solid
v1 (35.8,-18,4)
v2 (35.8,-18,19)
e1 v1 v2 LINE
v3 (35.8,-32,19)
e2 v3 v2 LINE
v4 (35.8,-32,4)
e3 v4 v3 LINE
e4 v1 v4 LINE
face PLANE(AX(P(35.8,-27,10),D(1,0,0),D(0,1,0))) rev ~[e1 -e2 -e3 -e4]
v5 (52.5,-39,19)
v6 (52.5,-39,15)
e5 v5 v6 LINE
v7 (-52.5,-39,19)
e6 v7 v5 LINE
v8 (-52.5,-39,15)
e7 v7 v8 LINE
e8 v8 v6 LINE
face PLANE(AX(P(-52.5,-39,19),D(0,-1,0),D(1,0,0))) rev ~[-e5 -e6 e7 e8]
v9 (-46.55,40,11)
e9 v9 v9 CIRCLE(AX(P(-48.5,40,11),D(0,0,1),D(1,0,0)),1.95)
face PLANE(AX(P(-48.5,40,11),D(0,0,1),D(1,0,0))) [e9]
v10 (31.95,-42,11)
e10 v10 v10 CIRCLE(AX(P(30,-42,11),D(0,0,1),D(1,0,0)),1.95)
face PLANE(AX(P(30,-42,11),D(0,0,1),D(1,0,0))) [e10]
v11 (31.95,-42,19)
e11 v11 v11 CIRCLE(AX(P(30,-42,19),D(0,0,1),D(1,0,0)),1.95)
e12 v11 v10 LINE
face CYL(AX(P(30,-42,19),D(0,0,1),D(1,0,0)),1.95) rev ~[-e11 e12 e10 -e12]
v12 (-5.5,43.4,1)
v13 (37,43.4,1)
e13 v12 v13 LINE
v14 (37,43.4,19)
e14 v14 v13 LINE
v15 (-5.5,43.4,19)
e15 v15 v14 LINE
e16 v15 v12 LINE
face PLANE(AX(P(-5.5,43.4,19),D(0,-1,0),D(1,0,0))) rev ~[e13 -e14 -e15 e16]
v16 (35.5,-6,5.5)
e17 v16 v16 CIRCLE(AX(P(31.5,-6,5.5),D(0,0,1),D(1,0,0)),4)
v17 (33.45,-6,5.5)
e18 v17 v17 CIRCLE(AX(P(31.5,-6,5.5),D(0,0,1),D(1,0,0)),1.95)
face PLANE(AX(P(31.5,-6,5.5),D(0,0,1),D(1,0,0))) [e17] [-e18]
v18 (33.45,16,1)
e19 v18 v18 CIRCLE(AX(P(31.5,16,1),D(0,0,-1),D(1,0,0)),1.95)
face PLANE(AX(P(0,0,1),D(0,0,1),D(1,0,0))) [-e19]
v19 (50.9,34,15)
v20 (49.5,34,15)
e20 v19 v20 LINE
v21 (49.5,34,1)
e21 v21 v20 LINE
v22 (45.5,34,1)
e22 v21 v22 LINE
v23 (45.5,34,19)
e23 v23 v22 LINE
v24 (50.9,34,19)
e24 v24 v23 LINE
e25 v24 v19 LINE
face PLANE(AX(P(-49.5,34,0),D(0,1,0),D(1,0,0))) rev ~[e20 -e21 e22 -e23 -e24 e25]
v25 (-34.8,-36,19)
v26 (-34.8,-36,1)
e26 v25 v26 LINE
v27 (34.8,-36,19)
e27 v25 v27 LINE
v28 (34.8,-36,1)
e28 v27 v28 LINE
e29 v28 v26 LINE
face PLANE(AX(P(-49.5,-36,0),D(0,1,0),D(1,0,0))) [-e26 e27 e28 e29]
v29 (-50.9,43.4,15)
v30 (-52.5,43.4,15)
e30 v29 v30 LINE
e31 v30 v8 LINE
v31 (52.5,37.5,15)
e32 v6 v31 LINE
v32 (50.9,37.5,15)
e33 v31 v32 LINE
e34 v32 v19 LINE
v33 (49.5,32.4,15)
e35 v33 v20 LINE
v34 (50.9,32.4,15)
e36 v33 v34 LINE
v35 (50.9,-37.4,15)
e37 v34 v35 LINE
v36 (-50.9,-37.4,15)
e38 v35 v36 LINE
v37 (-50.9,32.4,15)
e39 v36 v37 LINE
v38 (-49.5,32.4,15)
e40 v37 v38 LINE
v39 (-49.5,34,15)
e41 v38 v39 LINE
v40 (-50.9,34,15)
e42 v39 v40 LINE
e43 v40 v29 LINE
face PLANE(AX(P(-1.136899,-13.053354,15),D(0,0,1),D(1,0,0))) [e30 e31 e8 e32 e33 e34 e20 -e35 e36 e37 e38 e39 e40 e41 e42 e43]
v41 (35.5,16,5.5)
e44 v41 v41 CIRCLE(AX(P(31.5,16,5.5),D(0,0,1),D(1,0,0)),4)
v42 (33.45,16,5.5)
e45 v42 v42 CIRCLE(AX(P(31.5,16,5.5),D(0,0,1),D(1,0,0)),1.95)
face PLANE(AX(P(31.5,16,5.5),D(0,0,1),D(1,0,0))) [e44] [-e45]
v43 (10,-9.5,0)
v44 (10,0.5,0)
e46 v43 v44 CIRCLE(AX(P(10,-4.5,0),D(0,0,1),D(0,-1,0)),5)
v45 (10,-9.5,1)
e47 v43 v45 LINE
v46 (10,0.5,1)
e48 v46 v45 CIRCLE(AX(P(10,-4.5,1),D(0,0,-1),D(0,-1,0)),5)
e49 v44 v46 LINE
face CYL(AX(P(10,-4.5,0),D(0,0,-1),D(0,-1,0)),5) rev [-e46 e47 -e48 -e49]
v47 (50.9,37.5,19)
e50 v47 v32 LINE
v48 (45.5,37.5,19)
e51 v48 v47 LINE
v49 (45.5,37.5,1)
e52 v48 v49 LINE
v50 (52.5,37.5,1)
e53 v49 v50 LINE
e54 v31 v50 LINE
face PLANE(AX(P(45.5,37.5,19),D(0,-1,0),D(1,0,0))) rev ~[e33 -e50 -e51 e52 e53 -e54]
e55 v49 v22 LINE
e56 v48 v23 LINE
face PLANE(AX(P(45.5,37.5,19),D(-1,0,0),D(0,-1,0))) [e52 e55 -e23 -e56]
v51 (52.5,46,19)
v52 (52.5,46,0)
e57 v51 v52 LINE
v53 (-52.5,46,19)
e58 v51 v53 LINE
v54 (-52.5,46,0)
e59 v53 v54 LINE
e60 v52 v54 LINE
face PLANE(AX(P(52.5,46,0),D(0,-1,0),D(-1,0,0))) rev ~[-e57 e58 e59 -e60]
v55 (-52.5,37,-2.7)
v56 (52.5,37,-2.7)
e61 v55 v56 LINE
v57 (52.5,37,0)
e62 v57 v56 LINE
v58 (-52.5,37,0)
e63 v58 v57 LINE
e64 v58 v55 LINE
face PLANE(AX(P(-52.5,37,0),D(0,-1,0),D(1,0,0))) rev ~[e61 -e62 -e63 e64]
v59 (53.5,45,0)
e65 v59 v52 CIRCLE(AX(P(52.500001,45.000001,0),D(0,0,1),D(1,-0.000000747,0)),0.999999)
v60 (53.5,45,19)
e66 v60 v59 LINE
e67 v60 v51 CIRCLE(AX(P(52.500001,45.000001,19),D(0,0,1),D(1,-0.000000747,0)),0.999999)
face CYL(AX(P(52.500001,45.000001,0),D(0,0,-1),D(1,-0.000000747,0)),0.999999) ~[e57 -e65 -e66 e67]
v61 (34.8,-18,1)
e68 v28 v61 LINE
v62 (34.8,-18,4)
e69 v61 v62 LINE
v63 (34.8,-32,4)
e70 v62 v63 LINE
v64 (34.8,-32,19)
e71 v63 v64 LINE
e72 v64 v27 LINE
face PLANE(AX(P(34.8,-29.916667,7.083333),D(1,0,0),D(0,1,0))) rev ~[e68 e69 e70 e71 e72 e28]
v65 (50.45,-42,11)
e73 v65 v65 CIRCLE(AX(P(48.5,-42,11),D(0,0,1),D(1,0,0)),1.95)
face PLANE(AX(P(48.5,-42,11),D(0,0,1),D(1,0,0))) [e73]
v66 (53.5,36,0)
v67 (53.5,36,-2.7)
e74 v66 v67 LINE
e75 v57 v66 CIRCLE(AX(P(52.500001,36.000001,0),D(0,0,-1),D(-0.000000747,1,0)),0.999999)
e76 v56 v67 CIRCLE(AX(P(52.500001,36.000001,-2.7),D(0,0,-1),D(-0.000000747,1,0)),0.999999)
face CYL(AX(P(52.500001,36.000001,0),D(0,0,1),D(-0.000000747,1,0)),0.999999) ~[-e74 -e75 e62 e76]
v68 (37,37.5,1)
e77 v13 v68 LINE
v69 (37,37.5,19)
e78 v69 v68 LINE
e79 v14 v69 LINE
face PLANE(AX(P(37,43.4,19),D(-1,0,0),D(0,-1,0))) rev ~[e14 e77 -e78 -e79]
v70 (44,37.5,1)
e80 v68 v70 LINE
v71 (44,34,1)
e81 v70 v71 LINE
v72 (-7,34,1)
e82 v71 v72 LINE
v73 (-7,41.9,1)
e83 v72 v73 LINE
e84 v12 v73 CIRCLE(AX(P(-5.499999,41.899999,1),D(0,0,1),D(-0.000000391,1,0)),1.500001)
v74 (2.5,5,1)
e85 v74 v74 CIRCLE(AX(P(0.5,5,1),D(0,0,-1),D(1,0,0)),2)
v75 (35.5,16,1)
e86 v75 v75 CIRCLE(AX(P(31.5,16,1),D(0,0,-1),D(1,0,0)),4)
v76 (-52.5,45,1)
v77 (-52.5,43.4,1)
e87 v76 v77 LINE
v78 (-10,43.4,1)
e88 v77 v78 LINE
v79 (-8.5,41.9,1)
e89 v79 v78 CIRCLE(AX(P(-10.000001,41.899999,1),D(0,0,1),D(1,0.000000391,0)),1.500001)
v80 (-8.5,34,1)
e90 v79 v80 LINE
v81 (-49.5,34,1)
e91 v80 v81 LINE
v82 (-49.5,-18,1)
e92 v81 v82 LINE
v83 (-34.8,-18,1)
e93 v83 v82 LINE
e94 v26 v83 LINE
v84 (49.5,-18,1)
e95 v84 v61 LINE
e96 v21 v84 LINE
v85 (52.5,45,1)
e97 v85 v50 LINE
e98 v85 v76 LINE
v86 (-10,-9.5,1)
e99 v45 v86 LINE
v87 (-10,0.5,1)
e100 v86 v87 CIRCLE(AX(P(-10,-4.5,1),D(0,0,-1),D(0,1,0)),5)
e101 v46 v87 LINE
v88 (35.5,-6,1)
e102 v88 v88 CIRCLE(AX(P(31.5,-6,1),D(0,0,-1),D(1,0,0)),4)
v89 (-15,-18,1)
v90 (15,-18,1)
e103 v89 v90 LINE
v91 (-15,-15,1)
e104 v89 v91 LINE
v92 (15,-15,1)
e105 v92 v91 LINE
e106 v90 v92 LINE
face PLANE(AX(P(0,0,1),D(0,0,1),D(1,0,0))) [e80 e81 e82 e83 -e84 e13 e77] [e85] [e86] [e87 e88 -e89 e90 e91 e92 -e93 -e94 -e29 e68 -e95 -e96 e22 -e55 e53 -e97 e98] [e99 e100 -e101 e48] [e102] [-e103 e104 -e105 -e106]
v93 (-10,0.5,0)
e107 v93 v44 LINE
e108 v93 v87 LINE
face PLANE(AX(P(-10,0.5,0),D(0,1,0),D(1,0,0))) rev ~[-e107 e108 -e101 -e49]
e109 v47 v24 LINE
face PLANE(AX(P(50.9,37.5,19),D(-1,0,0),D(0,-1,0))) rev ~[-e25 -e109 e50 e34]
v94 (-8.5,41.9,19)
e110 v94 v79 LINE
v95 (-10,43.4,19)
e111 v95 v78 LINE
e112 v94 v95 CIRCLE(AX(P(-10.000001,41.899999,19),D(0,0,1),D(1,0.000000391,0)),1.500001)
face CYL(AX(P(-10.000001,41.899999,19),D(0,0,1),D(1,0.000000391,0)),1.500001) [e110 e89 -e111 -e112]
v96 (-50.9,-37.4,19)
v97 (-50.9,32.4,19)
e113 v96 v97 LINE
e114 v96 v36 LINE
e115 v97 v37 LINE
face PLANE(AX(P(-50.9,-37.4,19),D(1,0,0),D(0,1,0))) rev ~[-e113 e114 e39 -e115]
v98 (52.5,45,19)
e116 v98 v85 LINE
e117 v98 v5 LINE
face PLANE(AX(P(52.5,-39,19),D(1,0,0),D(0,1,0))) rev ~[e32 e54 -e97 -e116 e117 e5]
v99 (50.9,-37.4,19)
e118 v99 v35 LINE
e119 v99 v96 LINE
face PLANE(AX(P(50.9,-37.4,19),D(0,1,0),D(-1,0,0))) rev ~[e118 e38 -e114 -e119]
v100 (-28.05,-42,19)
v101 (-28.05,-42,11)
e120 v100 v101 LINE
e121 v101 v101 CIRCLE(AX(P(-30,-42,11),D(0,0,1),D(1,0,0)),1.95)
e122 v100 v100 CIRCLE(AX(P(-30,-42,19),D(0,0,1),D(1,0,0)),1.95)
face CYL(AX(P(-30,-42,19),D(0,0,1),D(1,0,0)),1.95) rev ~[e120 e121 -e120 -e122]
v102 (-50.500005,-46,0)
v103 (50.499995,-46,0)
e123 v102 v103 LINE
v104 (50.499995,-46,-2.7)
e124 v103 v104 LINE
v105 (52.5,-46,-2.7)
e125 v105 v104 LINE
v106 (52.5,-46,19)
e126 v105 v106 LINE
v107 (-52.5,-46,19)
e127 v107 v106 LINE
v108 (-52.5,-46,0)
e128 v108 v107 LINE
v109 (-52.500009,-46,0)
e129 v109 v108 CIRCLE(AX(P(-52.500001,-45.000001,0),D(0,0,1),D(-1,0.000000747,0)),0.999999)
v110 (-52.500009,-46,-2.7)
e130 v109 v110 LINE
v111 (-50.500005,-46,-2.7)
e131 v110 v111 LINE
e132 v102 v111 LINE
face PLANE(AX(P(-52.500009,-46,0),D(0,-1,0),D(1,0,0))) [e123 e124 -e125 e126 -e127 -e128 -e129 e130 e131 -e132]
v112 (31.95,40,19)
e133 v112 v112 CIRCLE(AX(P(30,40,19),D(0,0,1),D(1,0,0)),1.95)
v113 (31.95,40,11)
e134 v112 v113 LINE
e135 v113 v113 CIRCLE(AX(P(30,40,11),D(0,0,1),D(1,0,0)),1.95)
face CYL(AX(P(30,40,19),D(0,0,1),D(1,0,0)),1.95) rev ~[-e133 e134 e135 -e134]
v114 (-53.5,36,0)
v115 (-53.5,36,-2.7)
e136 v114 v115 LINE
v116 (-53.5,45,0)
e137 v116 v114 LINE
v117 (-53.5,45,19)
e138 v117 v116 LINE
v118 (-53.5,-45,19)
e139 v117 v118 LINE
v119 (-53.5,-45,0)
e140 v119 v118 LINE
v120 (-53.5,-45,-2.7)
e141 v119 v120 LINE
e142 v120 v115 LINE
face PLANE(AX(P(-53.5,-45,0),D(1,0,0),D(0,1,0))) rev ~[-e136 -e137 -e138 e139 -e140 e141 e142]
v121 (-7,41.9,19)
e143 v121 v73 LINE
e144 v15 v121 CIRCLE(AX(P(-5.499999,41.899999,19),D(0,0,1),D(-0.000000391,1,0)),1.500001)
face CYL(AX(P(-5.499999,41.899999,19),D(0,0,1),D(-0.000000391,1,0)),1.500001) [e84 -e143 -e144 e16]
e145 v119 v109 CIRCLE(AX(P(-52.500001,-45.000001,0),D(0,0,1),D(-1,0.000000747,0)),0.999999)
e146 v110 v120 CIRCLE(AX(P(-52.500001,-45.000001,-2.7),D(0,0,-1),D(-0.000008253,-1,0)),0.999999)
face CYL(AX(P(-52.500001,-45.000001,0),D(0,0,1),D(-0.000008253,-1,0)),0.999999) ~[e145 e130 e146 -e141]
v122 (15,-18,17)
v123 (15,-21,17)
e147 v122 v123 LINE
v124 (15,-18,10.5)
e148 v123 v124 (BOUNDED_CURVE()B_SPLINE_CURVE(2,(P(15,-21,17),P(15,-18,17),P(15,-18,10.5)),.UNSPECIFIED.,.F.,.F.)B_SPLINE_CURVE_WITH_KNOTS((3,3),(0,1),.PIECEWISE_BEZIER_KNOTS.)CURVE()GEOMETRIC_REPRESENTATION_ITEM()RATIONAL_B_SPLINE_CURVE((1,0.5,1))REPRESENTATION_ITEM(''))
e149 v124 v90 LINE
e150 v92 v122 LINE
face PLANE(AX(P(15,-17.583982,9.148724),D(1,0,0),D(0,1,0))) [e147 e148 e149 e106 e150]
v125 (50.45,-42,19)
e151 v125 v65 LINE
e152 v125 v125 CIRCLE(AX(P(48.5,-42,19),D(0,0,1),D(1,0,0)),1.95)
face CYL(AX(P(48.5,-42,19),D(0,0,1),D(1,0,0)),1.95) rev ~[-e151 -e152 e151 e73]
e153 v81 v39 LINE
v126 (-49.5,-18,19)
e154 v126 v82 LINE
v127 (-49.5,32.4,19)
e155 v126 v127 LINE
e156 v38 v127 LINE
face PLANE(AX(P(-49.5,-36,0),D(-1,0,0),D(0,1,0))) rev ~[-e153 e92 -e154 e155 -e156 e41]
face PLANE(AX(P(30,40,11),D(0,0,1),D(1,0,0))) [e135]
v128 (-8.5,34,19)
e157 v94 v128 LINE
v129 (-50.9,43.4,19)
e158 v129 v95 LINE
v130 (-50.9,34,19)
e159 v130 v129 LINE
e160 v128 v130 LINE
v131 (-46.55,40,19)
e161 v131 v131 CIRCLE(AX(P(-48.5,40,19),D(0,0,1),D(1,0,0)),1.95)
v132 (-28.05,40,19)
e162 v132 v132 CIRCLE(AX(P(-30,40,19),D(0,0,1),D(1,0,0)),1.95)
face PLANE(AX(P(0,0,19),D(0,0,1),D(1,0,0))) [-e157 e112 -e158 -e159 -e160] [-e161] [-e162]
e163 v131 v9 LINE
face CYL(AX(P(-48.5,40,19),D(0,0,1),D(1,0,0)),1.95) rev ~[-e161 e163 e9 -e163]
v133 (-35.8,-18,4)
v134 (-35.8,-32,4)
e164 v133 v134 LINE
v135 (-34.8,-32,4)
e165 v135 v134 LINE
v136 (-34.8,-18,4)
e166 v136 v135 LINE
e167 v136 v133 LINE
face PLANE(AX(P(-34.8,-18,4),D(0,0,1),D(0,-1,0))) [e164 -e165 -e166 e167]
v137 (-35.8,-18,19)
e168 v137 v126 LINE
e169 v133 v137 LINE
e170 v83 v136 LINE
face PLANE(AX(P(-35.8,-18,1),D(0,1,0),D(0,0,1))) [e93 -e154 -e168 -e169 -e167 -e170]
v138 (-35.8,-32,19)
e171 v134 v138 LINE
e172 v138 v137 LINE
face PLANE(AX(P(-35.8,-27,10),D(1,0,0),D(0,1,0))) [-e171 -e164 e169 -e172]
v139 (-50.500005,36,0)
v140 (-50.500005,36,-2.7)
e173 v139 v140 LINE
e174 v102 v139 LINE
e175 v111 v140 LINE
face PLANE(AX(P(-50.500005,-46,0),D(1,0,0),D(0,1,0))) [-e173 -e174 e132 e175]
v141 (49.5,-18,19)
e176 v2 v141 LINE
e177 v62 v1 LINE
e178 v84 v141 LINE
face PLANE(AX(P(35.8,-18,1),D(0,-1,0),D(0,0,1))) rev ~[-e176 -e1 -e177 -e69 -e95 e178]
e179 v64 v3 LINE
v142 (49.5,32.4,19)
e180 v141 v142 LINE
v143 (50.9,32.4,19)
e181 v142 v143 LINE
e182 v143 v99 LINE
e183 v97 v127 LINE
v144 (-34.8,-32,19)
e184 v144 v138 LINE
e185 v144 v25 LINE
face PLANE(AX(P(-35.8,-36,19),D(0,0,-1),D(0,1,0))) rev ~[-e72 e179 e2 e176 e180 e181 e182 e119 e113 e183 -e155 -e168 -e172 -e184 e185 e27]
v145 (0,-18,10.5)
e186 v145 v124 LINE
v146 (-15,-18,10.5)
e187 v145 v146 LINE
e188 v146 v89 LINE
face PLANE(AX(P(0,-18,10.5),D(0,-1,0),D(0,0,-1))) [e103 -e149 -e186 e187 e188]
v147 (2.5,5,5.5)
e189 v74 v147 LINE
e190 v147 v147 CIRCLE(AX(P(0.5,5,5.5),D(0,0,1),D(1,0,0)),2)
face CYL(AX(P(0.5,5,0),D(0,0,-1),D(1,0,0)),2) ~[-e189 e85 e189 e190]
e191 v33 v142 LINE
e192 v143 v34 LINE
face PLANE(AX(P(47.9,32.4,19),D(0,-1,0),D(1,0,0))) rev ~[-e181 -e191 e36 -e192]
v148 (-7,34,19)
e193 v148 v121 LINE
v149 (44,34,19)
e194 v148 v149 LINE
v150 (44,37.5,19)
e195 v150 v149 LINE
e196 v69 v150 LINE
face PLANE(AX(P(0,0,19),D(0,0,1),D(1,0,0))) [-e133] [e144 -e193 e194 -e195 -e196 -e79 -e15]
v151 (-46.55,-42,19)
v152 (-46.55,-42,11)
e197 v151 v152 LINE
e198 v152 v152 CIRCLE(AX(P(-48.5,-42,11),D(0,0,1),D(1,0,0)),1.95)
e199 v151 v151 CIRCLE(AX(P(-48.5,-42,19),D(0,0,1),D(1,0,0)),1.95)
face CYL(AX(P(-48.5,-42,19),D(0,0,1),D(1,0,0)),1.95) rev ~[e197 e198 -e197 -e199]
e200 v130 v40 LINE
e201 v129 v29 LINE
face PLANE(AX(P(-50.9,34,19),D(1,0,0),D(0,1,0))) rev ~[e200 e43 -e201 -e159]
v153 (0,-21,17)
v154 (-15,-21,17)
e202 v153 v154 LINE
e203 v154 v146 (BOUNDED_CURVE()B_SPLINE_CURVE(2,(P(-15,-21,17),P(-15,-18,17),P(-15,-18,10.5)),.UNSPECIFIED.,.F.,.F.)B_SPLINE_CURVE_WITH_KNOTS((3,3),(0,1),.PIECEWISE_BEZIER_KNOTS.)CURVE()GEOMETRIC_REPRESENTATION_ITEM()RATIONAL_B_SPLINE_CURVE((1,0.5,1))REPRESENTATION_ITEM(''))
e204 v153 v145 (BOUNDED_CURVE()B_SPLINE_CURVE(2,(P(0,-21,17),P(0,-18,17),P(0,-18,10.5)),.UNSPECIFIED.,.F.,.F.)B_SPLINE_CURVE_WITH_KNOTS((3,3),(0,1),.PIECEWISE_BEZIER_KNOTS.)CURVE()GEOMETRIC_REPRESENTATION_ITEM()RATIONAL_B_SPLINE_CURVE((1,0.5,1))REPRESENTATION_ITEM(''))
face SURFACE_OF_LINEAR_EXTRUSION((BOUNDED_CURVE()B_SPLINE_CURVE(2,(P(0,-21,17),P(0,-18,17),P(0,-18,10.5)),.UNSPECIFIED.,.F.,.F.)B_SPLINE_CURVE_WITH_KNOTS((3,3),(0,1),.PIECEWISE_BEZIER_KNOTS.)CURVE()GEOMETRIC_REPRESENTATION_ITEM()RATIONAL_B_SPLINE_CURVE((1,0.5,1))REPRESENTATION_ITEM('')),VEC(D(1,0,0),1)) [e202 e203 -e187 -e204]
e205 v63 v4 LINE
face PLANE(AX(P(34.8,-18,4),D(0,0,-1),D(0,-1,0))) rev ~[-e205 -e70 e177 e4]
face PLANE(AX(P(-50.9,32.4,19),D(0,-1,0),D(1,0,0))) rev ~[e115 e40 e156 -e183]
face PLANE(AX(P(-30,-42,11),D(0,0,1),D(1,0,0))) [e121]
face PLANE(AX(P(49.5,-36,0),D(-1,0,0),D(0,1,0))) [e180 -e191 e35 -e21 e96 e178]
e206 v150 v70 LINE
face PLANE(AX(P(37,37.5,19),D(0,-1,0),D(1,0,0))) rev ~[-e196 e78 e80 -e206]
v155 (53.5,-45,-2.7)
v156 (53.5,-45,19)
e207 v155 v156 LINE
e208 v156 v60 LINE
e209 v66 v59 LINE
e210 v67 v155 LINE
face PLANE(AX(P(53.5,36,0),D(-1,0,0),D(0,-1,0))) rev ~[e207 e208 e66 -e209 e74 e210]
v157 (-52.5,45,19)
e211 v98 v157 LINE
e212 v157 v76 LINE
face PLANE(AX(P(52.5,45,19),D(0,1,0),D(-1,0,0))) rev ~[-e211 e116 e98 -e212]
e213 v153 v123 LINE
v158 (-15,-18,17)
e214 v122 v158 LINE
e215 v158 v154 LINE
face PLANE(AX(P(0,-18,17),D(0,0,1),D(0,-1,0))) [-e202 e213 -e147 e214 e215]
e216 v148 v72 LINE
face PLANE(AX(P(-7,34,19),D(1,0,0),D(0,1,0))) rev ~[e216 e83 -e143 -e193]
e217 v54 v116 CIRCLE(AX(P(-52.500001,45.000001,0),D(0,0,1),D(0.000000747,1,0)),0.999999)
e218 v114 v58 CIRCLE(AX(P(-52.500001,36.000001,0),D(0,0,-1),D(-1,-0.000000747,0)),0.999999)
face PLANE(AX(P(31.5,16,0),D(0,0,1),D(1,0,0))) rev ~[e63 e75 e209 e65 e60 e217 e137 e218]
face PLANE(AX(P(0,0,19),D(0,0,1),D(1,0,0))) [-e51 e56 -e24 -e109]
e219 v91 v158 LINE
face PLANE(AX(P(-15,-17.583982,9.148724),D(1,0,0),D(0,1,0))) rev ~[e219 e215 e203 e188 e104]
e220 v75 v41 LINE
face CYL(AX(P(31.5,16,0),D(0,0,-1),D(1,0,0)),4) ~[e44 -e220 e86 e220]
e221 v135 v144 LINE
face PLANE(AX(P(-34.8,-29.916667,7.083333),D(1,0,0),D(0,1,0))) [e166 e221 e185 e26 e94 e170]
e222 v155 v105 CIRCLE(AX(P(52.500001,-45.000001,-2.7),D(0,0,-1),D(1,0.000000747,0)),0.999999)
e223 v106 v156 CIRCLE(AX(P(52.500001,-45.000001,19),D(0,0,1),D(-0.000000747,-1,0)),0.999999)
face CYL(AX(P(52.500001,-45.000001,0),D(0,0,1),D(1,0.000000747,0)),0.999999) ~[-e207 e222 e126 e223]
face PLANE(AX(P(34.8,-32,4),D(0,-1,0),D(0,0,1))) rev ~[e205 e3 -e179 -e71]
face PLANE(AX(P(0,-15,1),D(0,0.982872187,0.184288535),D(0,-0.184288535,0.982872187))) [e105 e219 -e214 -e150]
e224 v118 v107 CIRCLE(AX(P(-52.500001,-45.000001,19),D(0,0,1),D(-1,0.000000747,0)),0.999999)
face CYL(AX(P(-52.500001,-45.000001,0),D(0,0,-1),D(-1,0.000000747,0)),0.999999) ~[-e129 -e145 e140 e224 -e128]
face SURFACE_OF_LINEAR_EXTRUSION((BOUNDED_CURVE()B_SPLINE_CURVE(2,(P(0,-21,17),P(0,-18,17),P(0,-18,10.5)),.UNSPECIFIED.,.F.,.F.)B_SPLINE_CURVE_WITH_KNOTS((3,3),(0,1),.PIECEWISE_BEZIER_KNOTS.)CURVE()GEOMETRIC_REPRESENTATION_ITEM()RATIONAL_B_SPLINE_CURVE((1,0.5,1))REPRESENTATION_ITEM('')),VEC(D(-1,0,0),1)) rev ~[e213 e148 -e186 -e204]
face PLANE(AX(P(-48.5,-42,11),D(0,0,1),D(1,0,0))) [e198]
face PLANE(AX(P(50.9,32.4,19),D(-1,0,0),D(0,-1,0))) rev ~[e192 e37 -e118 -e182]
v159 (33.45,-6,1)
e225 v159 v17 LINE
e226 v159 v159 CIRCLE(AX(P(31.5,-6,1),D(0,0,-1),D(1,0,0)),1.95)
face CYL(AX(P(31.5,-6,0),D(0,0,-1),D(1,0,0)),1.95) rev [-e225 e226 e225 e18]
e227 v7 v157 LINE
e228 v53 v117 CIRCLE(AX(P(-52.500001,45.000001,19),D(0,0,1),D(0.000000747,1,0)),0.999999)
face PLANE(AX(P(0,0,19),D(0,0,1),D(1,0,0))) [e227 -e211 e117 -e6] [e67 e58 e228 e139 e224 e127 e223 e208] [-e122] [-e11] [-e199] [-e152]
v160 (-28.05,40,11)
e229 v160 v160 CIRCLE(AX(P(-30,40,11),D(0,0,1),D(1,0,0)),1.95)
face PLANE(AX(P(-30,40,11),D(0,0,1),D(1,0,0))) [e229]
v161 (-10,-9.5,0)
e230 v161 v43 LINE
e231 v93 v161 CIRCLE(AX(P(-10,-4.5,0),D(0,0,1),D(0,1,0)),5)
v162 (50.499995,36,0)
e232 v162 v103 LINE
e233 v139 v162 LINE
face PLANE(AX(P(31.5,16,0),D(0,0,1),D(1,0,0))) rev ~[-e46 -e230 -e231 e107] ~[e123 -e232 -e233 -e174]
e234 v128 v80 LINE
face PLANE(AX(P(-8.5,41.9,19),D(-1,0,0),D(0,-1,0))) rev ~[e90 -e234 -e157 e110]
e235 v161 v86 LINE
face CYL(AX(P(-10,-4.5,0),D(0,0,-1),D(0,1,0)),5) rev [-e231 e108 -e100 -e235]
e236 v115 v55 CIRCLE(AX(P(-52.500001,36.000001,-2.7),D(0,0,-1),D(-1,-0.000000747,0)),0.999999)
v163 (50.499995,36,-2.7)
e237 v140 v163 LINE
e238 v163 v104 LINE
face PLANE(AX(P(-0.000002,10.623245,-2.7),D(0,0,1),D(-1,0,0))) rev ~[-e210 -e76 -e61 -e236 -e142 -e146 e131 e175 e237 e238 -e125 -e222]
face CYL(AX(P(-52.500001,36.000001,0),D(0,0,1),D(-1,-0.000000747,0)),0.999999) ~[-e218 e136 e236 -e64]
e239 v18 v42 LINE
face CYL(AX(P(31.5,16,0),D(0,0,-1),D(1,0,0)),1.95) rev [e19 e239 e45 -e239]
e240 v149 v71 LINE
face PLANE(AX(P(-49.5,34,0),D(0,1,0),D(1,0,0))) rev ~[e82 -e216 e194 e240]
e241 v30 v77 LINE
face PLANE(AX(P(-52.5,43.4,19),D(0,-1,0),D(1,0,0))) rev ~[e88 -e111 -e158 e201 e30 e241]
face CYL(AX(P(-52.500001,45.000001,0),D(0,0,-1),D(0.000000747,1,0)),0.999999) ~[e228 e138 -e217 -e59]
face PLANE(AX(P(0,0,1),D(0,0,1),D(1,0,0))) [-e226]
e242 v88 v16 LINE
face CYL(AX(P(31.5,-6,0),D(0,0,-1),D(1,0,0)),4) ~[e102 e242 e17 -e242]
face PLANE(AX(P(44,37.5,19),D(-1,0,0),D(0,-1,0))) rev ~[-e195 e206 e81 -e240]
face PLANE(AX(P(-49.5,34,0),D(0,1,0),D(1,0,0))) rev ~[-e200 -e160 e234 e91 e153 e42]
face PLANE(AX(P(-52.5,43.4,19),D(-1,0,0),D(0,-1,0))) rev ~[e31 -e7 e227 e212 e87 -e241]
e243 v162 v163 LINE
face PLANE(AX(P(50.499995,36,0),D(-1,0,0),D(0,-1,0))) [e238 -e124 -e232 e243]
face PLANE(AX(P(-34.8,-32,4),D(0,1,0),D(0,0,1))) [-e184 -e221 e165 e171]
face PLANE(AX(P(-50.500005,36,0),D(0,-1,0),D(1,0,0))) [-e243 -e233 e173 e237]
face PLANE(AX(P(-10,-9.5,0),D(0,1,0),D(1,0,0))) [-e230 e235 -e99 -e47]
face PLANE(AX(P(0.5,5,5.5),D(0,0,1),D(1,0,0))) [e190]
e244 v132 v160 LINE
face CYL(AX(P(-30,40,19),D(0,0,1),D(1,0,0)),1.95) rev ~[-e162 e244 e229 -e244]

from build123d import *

# Parameters (mm, degrees)
PAD011_DEPTH      = 1
SKETCH020_W       = 99
SKETCH020_H       = 70
PAD012_DEPTH      = 19
POCKET008_DEPTH   = 18
SKETCH023_R       = 4
SKETCH023_R_2     = 1.95
SKETCH023_R_3     = 2
PAD013_DEPTH      = 5.5
SKETCH024_R       = 1.95
POCKET010_DEPTH   = 8
PAD017_DEPTH      = 2.7
POCKET013_DEPTH   = 19
POCKET020_DEPTH   = 4
PAD033_START      = 34.8
PAD033_DEPTH      = 1
PAD034_START      = -34.8
PAD034_DEPTH      = 1
PAD035_START      = -35.8
SKETCH060_W       = 18
SKETCH060_H       = 18
PAD035_DEPTH      = 14
PAD036_START      = 35.8
PAD036_DEPTH      = 14
PAD037_DEPTH      = 15
PAD037_DEPTH_BACK = 15


with BuildPart() as part:
    # Sketch019 → Pad011 (new body)
    with BuildSketch(Plane.XY):
        with BuildLine():
            Line((-53.5, 45), (-53.5, -45))
            ThreePointArc((-53.5, -45), (-53.207107, -45.707107), (-52.5, -46))
            Line((-52.5, -46), (52.5, -46))
            ThreePointArc((52.5, -46), (53.207107, -45.707107), (53.5, -45))
            Line((53.5, -45), (53.5, 45))
            ThreePointArc((53.5, 45), (53.207107, 45.707107), (52.5, 46))
            Line((52.5, 46), (-52.5, 46))
            ThreePointArc((-52.5, 46), (-53.207107, 45.707107), (-53.5, 45))
        make_face()
    extrude(amount=PAD011_DEPTH)

    # Sketch020 → Pad012 (join)
    with BuildSketch(Plane.XY):
        with BuildLine():
            Line((-53.5, 45), (-53.5, -45))
            ThreePointArc((-53.5, -45), (-53.207107, -45.707107), (-52.5, -46))
            Line((-52.5, -46), (52.5, -46))
            ThreePointArc((52.5, -46), (53.207107, -45.707107), (53.5, -45))
            Line((53.5, -45), (53.5, 45))
            ThreePointArc((53.5, 45), (53.207107, 45.707107), (52.5, 46))
            Line((52.5, 46), (-52.5, 46))
            ThreePointArc((-52.5, 46), (-53.207107, 45.707107), (-53.5, 45))
        make_face()
        with Locations((0, -1)):
            Rectangle(SKETCH020_W, SKETCH020_H, mode=Mode.SUBTRACT)
    extrude(amount=PAD012_DEPTH)

    # Sketch021 (on Face14 of Pad012) → Pocket008 (cut)
    with BuildSketch(Plane.XY.offset(19)):
        with BuildLine():
            Line((-52.5, 45), (-52.5, 43.4))
            Line((-52.5, 43.4), (-10, 43.4))
            ThreePointArc((-8.5, 41.9), (-8.93934, 42.96066), (-10, 43.4))
            Line((-8.5, 41.9), (-8.5, 34))
            Line((-8.5, 34), (-7, 34))
            Line((-7, 34), (-7, 41.9))
            ThreePointArc((-5.5, 43.4), (-6.56066, 42.96066), (-7, 41.9))
            Line((-5.5, 43.4), (37, 43.4))
            Line((37, 43.4), (37, 37.5))
            Line((37, 37.5), (44, 37.5))
            Line((44, 37.5), (44, 34))
            Line((45.5, 34), (44, 34))
            Line((45.5, 37.5), (45.5, 34))
            Line((45.5, 37.5), (52.5, 37.5))
            Line((52.5, 45), (52.5, 37.5))
            Line((52.5, 45), (-52.5, 45))
        make_face()
    extrude(amount=-POCKET008_DEPTH, mode=Mode.SUBTRACT)

    # Sketch023 → Pad013 (join)
    with BuildSketch(Plane.XY):
        with Locations((31.5, 16)):
            Circle(SKETCH023_R)
        with Locations((31.5, 16)):
            Circle(SKETCH023_R_2, mode=Mode.SUBTRACT)
        with Locations((31.5, -6)):
            Circle(SKETCH023_R)
        with Locations((31.5, -6)):
            Circle(SKETCH023_R_2, mode=Mode.SUBTRACT)
        with Locations((0.5, 5)):
            Circle(SKETCH023_R_3)
    extrude(amount=PAD013_DEPTH)

    # Sketch024 (on Face14 of Pad013) → Pocket010 (cut)
    with BuildSketch(Plane.XY.offset(19)):
        with Locations((-48.5, -42)):
            Circle(SKETCH024_R)
        with Locations((-30, -42)):
            Circle(SKETCH024_R)
        with Locations((30, -42)):
            Circle(SKETCH024_R)
        with Locations((-48.5, 40)):
            Circle(SKETCH024_R)
        with Locations((-30, 40)):
            Circle(SKETCH024_R)
        with Locations((30, 40)):
            Circle(SKETCH024_R)
        with Locations((48.5, -42)):
            Circle(SKETCH024_R)
    extrude(amount=-POCKET010_DEPTH, mode=Mode.SUBTRACT)

    # Sketch025 (on Face4 of Pocket010) → Pad017 (join)
    with BuildSketch(Plane(origin=(0, 0, 0), x_dir=(1, 0, 0), z_dir=(0, 0, -1))):
        with BuildLine():
            Line((-50.500005, -36), (50.499995, -36))
            Line((50.499995, -36), (50.499995, 46))
            Line((52.5, 46), (50.499995, 46))
            ThreePointArc((53.5, 45), (53.207107, 45.707107), (52.5, 46))
            Line((53.5, -36), (53.5, 45))
            ThreePointArc((52.5, -37), (53.207107, -36.707107), (53.5, -36))
            Line((-52.5, -37), (52.5, -37))
            ThreePointArc((-53.5, -36), (-53.207107, -36.707107), (-52.5, -37))
            Line((-53.5, 45), (-53.5, -36))
            ThreePointArc((-52.500009, 46), (-53.20711, 45.707104), (-53.5, 45))
            Line((-52.500009, 46), (-50.500005, 46))
            Line((-50.500005, 46), (-50.500005, -36))
        make_face()
    extrude(amount=PAD017_DEPTH)

    # Sketch026 → Pocket013 (cut)
    with BuildSketch(Plane.XY):
        with BuildLine():
            ThreePointArc((-10, 0.5), (-15, -4.5), (-10, -9.5))
            Line((-10, -9.5), (10, -9.5))
            ThreePointArc((10, -9.5), (15, -4.5), (10, 0.5))
            Line((-10, 0.5), (10, 0.5))
        make_face()
    extrude(amount=POCKET013_DEPTH, mode=Mode.SUBTRACT)

    # Sketch053 (on Face18 of Pocket013) → Pocket020 (cut)
    with BuildSketch(Plane.XY.offset(19)):
        Polygon((-52.5, 43.4), (-52.5, -39), (52.5, -39), (52.5, 37.5), (50.9, 37.5), (50.9, 34), (47.9, 34), (47.9, 32.4), (50.9, 32.4), (50.9, -37.4), (-50.9, -37.4), (-50.9, 32.4), (-47.9, 32.4), (-47.9, 34), (-50.9, 34), (-50.9, 43.4), align=None)
    extrude(amount=-POCKET020_DEPTH, mode=Mode.SUBTRACT)

    # Sketch059 → Pad033 (join)
    with BuildSketch(Plane.YZ.offset(PAD033_START)):
        Polygon((-36, 19), (-36, 1), (-18, 1), (-18, 4), (-32, 4), (-32, 19), align=None)
    extrude(amount=PAD033_DEPTH)

    # Sketch059 → Pad034 (join)
    with BuildSketch(Plane.YZ.offset(PAD034_START)):
        Polygon((-36, 19), (-36, 1), (-18, 1), (-18, 4), (-32, 4), (-32, 19), align=None)
    extrude(amount=-PAD034_DEPTH)

    # Sketch060 → Pad035 (join)
    with BuildSketch(Plane.YZ.offset(PAD035_START)):
        with Locations((-27, 10)):
            Rectangle(SKETCH060_W, SKETCH060_H)
    extrude(amount=-PAD035_DEPTH)

    # Sketch060 → Pad036 (join)
    with BuildSketch(Plane.YZ.offset(PAD036_START)):
        with Locations((-27, 10)):
            Rectangle(SKETCH060_W, SKETCH060_H)
    extrude(amount=PAD036_DEPTH)

    # Sketch056 → Pad037 (join, two sides)
    with BuildSketch(Plane.YZ) as pad037_sk:
        with BuildLine():
            add(Edge.make_bspline(
                [(-21, 17), (-18, 17), (-18, 10.5)],
                knots=[0, 0, 0, 1, 1, 1], degree=2, weights=[1, 0.5, 1]))
            Line((-18, 10.5), (-18, 1))
            Line((-18, 1), (-15, 1))
            Line((-15, 1), (-18, 17))
            Line((-18, 17), (-21, 17))
        make_face()
    extrude(amount=PAD037_DEPTH)
    extrude(pad037_sk.sketch, amount=-PAD037_DEPTH_BACK)


solid = part.part
